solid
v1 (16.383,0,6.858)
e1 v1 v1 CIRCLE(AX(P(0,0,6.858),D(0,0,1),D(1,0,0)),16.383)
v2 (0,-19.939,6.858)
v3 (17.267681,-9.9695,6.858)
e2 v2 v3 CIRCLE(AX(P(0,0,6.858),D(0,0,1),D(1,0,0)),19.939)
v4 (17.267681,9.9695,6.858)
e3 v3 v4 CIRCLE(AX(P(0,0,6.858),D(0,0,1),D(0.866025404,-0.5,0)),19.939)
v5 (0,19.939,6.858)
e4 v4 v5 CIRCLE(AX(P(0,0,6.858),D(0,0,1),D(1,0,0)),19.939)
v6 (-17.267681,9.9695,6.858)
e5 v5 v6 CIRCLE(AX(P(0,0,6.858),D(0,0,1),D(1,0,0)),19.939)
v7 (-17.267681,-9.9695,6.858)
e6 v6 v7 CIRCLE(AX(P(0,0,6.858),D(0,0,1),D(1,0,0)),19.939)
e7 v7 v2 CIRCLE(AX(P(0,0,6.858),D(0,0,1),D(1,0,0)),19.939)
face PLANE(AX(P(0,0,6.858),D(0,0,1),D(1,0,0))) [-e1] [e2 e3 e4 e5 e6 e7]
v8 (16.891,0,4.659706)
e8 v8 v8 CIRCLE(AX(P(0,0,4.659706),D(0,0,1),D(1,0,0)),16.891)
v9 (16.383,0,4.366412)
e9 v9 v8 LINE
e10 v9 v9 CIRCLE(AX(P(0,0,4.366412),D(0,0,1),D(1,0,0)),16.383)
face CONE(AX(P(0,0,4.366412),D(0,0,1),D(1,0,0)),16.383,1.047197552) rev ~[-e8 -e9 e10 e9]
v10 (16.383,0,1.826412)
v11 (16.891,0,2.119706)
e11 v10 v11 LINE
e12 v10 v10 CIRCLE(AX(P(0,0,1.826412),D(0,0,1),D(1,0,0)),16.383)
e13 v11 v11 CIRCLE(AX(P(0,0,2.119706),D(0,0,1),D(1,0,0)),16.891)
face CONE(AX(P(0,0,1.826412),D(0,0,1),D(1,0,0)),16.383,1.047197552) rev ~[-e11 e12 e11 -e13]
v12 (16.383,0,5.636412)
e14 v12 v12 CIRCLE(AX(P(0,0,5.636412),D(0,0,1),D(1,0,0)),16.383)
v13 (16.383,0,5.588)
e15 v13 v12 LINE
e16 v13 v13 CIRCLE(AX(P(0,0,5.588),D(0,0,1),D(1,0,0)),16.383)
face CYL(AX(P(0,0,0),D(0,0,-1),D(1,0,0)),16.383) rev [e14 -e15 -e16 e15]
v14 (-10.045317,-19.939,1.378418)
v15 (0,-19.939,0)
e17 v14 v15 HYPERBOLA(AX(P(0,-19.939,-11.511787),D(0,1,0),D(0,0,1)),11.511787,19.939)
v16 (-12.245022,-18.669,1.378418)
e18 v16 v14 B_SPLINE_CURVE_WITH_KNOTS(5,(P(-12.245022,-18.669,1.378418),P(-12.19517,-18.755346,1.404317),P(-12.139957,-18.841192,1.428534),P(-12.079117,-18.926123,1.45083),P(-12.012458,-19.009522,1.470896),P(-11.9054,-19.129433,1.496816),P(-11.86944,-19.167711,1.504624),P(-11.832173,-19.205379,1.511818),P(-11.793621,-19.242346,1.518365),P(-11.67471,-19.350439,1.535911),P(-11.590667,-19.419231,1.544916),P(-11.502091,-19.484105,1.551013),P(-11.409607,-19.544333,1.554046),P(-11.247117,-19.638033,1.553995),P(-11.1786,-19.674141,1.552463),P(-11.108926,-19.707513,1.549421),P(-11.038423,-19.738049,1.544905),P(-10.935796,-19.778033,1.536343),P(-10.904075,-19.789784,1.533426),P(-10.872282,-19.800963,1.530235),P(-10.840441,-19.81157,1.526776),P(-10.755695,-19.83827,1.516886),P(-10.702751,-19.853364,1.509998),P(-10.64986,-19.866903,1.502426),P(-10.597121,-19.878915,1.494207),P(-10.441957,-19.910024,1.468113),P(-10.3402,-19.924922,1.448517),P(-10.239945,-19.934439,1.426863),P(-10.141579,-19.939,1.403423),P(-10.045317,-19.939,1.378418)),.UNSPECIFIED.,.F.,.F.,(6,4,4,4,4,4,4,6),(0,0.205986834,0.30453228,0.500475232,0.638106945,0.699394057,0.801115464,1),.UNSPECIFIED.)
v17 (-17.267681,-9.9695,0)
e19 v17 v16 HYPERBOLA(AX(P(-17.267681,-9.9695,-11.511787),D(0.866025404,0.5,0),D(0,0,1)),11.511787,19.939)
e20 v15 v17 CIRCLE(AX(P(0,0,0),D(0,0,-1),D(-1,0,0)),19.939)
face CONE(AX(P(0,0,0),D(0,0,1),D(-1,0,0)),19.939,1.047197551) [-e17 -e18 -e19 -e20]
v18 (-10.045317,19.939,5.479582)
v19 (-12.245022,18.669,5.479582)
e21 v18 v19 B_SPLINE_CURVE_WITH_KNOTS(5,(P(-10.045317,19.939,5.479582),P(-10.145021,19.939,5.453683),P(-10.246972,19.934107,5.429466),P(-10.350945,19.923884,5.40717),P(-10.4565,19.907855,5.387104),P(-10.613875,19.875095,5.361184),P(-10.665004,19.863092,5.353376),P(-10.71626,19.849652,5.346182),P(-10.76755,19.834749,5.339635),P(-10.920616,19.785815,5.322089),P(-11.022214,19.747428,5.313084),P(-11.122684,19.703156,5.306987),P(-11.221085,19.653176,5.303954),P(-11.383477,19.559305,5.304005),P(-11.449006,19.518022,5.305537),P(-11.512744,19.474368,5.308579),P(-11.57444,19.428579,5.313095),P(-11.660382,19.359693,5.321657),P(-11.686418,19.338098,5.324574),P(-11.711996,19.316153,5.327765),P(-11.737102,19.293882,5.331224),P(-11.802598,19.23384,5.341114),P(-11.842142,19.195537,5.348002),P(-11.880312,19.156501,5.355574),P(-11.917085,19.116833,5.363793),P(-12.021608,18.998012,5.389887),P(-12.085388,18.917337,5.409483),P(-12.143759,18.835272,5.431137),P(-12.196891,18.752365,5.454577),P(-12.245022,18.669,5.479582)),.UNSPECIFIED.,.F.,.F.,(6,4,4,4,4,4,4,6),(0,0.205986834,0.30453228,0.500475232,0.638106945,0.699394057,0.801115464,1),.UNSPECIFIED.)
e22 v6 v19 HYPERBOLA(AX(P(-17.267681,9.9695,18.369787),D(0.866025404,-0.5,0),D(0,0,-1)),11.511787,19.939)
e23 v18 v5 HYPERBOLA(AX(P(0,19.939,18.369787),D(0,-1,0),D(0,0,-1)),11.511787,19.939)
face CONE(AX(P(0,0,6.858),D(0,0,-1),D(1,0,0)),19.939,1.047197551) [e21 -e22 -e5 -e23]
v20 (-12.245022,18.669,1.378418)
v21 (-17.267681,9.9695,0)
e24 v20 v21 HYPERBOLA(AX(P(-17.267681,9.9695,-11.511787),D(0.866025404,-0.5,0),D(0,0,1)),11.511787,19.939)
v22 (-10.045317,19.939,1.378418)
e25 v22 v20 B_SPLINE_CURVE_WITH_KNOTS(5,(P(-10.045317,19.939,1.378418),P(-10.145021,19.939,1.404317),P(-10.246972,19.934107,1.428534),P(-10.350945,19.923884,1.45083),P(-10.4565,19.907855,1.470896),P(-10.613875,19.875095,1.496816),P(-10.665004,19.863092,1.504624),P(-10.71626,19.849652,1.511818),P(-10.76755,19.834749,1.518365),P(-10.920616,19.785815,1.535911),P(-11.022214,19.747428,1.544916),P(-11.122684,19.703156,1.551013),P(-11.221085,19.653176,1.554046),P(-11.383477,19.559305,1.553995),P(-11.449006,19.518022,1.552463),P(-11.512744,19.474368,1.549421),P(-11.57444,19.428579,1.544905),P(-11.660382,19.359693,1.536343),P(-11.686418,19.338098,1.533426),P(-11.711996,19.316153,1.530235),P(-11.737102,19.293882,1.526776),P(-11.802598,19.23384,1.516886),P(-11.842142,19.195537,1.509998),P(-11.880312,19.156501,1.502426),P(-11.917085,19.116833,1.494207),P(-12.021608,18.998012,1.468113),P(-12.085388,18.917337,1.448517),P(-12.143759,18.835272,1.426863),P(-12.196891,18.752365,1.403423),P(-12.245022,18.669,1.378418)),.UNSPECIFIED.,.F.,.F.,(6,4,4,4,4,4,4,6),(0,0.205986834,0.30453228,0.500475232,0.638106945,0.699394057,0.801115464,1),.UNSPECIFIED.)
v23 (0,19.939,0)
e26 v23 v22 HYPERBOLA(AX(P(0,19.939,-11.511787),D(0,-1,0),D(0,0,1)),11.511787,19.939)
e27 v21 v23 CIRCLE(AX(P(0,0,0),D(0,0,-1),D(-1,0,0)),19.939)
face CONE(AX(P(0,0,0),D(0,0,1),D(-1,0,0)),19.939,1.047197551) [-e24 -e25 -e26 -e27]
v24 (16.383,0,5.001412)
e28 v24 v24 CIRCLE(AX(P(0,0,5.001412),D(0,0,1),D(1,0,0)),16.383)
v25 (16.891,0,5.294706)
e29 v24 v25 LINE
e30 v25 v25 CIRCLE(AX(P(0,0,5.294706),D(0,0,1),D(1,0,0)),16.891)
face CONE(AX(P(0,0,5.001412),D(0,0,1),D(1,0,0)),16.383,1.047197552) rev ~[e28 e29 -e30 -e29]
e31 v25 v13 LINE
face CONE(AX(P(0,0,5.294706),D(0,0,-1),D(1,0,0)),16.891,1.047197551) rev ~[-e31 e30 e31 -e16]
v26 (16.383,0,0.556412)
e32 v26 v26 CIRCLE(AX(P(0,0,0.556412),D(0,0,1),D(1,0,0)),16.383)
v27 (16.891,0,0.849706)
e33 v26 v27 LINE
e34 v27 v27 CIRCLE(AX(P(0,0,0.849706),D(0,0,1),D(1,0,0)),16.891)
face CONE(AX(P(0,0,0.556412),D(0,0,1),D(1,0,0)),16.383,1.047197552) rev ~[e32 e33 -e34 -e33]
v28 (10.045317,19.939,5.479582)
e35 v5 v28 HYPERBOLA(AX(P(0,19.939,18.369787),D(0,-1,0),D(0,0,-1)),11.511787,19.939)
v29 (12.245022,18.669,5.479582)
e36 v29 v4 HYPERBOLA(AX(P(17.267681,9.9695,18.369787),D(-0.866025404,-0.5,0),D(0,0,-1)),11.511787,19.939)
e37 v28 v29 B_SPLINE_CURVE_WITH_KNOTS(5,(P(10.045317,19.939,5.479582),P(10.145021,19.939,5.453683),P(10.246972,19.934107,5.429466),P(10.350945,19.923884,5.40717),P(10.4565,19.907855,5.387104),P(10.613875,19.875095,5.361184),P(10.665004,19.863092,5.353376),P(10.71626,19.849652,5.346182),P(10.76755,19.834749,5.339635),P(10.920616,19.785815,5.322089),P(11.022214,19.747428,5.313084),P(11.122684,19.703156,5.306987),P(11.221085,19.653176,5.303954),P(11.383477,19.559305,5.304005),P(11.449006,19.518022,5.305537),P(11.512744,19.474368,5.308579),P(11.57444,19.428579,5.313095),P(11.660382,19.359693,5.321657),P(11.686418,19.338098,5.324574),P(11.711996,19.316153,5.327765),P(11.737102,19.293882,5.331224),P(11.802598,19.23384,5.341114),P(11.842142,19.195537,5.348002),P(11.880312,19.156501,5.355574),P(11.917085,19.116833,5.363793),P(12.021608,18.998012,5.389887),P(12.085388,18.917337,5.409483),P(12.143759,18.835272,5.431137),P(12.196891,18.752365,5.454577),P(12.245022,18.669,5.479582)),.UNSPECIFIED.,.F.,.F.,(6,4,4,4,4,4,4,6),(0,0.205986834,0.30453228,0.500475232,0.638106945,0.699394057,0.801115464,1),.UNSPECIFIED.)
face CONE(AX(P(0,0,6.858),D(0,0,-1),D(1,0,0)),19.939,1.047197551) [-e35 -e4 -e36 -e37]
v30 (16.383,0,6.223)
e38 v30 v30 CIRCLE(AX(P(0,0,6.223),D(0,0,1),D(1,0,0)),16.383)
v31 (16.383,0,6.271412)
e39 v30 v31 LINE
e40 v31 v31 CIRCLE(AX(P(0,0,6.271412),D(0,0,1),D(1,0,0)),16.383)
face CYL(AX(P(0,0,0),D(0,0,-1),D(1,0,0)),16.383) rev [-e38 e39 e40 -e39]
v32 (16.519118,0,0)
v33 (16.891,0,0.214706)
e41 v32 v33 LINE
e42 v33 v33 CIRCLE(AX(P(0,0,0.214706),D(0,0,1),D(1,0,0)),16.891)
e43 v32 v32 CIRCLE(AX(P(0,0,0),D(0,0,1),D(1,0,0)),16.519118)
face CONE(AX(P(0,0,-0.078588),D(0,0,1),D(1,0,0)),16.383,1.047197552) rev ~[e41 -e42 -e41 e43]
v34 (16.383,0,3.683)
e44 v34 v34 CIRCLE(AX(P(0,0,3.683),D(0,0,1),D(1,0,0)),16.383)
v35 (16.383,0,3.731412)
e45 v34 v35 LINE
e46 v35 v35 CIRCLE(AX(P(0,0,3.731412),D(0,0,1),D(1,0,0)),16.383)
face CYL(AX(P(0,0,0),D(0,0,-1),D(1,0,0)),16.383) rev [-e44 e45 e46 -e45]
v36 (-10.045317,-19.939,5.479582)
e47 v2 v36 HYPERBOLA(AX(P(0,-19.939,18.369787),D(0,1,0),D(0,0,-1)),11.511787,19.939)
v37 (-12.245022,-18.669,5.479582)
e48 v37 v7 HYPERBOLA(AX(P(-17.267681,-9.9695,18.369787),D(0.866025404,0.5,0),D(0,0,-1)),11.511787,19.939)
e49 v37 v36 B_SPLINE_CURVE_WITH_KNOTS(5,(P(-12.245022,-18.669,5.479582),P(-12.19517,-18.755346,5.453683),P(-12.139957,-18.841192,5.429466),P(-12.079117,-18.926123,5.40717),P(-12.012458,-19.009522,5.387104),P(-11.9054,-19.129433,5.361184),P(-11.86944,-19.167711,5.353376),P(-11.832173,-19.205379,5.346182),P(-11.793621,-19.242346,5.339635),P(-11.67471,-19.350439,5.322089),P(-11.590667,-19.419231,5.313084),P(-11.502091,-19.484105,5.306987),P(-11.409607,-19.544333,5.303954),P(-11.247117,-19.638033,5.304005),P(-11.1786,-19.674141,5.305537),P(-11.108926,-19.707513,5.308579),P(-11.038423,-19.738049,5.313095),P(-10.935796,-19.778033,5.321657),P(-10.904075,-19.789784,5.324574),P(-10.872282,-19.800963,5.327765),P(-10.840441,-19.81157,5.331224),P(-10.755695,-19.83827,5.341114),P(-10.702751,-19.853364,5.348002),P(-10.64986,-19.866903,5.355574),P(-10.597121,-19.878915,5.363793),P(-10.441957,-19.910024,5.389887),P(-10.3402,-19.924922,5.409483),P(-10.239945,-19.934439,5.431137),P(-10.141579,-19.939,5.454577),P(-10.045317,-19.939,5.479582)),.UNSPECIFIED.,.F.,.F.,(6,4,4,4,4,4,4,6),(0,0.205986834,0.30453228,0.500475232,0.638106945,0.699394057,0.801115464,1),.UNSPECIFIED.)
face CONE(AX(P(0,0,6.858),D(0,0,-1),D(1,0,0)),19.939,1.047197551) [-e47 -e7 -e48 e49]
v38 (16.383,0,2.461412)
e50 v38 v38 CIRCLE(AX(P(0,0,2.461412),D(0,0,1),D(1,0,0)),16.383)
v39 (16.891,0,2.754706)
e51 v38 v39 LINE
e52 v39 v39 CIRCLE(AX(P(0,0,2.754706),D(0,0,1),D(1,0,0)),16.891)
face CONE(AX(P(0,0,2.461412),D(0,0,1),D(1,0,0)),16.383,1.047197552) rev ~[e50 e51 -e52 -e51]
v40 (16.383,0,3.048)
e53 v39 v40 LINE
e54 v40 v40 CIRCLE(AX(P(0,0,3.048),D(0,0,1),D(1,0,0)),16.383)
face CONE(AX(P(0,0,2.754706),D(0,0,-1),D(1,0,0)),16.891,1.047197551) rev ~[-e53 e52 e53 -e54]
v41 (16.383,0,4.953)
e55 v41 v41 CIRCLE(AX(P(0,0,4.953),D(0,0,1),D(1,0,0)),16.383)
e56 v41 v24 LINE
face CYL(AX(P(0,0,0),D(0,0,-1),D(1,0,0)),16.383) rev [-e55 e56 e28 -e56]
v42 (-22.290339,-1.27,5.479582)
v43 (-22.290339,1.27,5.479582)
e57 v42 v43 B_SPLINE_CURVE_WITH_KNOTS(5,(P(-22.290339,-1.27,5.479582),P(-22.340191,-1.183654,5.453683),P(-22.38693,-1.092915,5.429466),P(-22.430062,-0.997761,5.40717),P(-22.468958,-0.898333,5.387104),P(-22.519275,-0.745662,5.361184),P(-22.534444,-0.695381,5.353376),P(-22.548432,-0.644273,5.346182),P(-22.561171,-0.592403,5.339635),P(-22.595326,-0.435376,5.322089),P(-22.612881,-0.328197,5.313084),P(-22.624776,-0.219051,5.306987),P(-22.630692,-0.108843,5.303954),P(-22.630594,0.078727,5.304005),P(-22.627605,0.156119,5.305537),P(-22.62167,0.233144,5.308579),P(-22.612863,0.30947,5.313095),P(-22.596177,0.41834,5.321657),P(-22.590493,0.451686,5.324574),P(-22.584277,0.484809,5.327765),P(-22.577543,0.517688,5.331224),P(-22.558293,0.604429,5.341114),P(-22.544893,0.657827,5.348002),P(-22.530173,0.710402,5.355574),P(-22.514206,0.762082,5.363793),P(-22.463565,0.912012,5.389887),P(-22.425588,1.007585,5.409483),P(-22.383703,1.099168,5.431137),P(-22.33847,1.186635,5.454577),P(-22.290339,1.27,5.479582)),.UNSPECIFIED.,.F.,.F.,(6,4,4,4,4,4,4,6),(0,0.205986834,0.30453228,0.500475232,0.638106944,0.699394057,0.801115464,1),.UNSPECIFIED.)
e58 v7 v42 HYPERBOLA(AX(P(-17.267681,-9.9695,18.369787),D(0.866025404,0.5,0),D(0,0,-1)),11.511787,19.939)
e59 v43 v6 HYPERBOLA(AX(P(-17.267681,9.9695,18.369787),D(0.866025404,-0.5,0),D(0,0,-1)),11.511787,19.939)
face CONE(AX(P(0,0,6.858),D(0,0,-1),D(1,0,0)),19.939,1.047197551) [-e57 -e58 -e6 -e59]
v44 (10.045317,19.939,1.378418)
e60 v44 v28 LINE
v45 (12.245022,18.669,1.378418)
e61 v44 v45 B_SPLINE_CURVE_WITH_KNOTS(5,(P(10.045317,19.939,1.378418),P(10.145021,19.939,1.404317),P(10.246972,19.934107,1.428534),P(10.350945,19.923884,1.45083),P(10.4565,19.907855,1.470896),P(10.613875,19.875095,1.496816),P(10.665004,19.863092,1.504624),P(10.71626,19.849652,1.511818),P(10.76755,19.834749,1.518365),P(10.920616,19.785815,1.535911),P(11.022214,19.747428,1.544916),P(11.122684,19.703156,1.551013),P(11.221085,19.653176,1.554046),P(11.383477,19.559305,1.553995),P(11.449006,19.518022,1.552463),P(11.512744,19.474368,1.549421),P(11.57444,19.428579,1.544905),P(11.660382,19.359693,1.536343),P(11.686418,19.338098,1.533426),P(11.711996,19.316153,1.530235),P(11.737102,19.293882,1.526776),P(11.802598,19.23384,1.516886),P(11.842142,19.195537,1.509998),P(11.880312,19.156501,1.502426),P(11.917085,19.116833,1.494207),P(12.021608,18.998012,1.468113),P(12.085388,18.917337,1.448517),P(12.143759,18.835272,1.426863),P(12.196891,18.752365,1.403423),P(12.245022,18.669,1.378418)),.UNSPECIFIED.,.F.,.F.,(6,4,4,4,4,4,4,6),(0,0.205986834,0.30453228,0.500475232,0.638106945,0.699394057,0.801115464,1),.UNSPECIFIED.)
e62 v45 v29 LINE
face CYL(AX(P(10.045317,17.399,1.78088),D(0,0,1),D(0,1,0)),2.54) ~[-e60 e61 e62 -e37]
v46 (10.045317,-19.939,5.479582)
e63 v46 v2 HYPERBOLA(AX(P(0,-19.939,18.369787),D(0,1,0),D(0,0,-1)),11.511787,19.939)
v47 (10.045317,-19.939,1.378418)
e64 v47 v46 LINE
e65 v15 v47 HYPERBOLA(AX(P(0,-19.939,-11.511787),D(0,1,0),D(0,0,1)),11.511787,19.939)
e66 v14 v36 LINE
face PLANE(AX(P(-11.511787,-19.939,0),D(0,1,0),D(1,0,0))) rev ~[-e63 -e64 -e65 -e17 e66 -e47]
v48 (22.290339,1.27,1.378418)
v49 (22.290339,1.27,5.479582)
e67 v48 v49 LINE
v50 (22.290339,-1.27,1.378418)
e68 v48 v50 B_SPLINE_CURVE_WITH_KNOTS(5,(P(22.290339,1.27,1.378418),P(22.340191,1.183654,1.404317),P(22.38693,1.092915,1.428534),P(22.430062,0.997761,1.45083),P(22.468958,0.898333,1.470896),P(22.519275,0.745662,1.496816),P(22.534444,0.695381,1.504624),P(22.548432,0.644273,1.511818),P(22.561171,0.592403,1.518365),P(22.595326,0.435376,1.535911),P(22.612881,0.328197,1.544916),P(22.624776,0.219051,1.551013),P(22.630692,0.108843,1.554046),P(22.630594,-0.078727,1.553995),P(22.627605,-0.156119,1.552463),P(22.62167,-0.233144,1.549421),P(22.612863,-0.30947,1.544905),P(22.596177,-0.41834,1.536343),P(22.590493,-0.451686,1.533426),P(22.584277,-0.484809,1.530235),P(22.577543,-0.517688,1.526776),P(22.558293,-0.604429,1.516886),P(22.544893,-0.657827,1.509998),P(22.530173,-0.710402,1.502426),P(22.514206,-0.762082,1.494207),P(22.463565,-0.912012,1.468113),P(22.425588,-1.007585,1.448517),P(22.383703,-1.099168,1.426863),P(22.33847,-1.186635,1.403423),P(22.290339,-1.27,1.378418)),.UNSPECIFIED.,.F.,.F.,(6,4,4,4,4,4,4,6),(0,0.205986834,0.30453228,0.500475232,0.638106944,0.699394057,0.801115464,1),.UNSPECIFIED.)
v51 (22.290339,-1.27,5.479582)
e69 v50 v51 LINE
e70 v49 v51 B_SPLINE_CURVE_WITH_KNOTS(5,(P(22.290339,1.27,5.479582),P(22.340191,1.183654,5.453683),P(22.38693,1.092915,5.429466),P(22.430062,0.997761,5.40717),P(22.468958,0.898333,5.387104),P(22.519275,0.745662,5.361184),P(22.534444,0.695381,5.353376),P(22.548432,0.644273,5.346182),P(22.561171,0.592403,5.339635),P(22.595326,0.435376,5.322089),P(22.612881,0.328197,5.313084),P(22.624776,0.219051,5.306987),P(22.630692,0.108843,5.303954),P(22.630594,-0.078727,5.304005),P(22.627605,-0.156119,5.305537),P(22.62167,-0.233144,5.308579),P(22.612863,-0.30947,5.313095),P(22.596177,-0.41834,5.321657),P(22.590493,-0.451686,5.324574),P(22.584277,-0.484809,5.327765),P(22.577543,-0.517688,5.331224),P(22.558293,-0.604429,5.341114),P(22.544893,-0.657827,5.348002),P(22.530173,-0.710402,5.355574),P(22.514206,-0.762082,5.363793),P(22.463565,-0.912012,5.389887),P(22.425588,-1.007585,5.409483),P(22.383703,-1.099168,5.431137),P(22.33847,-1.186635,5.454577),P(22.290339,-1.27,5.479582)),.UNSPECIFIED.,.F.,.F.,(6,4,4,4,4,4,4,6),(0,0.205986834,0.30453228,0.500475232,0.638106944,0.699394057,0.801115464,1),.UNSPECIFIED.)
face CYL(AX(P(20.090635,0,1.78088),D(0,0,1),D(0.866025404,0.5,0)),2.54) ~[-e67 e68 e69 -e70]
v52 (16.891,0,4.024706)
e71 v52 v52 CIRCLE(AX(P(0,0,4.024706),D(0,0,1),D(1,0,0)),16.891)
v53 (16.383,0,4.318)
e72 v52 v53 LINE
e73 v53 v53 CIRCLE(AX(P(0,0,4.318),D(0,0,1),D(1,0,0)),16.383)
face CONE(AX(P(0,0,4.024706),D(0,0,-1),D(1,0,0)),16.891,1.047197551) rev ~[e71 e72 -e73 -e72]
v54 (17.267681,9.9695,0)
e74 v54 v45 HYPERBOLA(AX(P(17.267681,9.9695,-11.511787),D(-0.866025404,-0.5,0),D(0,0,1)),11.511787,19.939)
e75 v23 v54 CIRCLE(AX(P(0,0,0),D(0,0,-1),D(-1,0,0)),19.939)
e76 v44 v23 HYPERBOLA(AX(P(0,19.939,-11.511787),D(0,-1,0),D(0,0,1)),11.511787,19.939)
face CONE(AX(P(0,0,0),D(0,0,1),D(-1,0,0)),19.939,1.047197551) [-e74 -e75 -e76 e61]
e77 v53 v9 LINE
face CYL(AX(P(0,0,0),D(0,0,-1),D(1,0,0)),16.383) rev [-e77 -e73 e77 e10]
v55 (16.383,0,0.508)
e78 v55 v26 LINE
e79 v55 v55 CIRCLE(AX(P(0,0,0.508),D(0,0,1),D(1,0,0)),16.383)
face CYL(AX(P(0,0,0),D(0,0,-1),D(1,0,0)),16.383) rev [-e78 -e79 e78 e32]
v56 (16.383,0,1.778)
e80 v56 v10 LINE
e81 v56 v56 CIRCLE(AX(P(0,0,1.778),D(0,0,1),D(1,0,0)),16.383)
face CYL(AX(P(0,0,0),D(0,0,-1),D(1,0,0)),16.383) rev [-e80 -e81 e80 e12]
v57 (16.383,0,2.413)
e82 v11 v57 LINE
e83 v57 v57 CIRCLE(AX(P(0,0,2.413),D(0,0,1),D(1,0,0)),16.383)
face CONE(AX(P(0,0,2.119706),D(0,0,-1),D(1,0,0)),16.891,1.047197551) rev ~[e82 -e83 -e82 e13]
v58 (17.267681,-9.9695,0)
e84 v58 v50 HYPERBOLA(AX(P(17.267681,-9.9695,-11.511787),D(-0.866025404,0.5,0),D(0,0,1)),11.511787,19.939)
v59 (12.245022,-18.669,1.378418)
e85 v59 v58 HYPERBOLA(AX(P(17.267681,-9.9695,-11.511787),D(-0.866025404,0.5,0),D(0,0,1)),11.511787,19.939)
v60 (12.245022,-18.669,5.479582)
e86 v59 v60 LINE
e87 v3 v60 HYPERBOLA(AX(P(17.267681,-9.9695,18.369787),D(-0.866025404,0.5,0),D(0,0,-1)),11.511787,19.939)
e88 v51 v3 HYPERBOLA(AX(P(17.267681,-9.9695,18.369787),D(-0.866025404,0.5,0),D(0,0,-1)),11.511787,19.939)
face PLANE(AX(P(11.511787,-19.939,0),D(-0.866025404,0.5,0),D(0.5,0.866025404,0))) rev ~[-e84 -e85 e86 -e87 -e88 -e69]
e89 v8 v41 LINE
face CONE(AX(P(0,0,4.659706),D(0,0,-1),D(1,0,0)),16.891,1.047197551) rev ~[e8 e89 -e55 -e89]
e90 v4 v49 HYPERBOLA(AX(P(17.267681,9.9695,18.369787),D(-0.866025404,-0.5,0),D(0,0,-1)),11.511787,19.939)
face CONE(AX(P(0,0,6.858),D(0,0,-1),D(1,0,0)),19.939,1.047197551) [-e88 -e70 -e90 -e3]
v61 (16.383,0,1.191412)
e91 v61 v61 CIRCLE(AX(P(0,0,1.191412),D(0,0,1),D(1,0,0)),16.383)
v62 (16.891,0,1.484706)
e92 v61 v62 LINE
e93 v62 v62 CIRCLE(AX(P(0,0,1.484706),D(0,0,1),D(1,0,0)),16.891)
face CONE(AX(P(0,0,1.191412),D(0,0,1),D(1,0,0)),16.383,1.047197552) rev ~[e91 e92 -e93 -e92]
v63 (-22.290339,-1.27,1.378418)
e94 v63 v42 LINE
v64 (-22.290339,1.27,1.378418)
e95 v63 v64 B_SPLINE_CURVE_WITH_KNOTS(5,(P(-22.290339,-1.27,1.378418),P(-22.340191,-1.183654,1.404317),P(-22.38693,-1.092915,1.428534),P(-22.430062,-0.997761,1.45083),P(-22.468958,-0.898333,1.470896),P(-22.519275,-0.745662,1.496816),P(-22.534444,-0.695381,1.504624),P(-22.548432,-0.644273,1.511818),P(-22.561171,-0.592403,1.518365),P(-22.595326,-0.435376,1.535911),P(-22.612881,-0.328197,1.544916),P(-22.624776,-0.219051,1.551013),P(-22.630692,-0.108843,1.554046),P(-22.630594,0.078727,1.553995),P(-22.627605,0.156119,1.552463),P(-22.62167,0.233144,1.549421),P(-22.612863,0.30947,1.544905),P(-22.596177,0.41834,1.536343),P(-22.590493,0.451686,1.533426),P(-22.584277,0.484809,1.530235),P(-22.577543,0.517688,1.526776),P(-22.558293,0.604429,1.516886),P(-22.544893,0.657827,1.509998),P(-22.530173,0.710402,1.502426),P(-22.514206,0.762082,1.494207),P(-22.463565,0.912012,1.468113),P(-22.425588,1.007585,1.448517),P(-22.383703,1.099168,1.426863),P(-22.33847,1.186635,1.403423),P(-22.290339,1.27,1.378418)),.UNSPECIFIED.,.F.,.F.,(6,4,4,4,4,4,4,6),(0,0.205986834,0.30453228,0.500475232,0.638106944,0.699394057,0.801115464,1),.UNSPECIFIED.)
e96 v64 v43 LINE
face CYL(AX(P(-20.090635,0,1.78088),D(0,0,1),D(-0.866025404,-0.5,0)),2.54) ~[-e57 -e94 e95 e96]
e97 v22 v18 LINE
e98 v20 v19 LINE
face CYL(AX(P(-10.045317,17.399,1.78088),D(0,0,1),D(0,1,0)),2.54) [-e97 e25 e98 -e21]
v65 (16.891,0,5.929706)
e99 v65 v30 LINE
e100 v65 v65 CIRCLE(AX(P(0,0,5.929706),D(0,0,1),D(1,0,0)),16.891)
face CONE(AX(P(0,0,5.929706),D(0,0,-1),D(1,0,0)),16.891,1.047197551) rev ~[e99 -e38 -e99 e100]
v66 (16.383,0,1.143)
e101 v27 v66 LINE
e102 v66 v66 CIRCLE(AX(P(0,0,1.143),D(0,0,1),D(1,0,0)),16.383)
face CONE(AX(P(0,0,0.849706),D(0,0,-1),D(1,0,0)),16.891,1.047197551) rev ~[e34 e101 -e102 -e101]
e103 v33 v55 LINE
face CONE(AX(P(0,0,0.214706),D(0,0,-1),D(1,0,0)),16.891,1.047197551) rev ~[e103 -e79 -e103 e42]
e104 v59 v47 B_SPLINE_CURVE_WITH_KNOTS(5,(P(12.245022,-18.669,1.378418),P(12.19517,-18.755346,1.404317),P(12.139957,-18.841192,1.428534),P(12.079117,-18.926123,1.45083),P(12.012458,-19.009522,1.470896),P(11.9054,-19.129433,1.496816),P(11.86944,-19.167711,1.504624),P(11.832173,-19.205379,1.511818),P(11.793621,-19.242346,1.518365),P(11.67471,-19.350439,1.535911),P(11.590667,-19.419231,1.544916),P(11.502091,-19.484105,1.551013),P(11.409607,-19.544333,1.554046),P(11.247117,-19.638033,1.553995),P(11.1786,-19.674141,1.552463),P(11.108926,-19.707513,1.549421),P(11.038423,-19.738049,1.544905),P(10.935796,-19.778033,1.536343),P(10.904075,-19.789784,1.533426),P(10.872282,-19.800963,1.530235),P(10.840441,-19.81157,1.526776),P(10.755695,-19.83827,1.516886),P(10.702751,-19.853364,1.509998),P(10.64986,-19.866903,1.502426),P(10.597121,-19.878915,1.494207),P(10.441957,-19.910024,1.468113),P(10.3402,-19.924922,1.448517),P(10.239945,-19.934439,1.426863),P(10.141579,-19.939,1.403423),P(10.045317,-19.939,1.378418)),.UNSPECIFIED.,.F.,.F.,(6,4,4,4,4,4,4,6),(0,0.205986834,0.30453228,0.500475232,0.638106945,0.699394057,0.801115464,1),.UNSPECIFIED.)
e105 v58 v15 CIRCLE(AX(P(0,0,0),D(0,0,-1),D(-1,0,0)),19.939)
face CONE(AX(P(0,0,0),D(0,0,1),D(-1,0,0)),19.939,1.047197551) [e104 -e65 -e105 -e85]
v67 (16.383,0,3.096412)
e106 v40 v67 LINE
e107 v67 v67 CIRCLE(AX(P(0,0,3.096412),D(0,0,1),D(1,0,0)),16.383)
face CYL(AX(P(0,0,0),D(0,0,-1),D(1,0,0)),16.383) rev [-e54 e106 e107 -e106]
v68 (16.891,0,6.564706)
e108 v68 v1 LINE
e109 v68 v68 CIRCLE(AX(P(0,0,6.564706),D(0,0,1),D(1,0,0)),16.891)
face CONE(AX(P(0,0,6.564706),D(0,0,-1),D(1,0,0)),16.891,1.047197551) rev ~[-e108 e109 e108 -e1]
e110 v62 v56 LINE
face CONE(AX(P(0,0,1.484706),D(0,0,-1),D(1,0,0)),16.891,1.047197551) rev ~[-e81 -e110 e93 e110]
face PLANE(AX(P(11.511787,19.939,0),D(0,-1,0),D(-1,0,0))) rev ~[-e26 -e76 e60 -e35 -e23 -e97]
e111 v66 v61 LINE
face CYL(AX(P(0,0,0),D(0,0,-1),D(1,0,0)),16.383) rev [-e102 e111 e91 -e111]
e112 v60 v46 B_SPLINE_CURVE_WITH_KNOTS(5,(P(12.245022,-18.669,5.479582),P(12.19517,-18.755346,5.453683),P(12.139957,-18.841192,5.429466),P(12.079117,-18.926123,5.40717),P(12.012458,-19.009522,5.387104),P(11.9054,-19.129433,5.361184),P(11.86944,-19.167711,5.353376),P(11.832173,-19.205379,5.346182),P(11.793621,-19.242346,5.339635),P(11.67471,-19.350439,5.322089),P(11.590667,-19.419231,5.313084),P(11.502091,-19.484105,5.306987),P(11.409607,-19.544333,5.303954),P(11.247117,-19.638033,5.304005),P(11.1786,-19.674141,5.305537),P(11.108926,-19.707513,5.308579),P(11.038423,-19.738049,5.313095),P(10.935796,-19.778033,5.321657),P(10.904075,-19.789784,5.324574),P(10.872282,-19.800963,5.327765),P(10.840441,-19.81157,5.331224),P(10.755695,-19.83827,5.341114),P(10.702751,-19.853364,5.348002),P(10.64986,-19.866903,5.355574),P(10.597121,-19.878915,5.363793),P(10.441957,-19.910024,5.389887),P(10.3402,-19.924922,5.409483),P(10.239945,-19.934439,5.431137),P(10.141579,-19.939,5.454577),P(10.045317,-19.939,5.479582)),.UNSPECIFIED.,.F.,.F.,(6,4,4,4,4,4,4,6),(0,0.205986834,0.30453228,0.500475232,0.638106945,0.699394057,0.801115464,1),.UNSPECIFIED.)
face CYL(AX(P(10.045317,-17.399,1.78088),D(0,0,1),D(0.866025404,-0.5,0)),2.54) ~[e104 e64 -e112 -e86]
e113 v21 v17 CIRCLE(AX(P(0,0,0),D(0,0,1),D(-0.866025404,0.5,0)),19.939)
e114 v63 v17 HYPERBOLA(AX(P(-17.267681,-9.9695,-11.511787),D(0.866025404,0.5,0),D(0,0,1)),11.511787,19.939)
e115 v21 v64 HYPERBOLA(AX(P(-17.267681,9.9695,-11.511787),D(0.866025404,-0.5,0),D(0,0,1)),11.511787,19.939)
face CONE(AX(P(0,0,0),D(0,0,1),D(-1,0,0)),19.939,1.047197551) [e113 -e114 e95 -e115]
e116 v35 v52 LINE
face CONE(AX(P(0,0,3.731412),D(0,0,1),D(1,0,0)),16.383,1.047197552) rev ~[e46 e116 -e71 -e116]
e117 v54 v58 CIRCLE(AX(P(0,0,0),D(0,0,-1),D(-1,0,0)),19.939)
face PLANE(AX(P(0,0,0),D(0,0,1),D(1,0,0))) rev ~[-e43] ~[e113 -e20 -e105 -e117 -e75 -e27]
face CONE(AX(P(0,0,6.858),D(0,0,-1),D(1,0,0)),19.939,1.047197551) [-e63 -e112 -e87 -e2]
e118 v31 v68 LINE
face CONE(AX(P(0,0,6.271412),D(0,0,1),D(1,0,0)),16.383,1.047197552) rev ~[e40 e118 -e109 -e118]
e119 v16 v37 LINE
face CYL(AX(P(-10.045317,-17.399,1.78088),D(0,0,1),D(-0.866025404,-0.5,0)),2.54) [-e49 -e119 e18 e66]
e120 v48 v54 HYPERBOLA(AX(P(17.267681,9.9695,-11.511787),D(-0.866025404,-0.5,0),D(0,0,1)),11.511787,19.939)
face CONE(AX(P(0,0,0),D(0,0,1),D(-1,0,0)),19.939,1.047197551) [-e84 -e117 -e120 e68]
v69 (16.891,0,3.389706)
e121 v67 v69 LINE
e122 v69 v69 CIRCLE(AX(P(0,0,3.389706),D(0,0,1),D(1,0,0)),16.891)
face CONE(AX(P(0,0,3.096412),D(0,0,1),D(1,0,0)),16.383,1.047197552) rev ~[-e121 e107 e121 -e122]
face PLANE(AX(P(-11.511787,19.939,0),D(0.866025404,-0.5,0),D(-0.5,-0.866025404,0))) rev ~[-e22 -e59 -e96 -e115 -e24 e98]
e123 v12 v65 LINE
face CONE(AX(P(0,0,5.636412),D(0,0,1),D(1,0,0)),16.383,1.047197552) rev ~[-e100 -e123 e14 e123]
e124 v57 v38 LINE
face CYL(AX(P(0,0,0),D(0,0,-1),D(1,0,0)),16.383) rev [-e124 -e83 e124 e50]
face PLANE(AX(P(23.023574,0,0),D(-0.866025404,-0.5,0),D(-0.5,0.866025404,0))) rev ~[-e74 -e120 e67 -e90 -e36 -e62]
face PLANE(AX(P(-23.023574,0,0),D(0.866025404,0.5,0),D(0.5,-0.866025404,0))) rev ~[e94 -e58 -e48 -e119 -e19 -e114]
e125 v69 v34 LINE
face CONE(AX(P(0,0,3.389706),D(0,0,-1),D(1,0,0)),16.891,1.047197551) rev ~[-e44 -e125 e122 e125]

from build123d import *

# Parameters (mm, degrees)
SKETCH1_R          = 16.383
EXTRUDE1_DEPTH     = 6.858
SKETCH2_OUTSIDE_W  = 87.528
SKETCH2_OUTSIDE_H  = 81.358
SKETCH2_OUTSIDE_R  = 19.939
CUT_EXTRUDE1_DEPTH = 7.858
CUT_EXTRUDE1_DRAFT = -60
SKETCH3_OUTSIDE_W  = 87.528
SKETCH3_OUTSIDE_H  = 81.358
SKETCH3_OUTSIDE_R  = 19.939
CUT_EXTRUDE2_DEPTH = 7.858
CUT_EXTRUDE2_DRAFT = -60
FILLET1_R          = 2.54
LPATTERN1_COUNT    = 11
LPATTERN1_PITCH    = 0.635


with BuildPart() as part:
    # Sketch1 → Extrude1 (new body)
    with BuildSketch(Plane.XY):
        Polygon((-23.023574035, 0), (-11.511787017, -19.939), (11.511787017, -19.939), (23.023574035, 0), (11.511787017, 19.939), (-11.511787017, 19.939), align=None)
        Circle(SKETCH1_R, mode=Mode.SUBTRACT)
    extrude(amount=EXTRUDE1_DEPTH)


with BuildPart() as cut_extrude1_tool:
    # Sketch2 outside → Cut-Extrude1 (with draft: the straight prism first)
    with BuildSketch(Plane.XY.offset(6.858)):
        Rectangle(SKETCH2_OUTSIDE_W, SKETCH2_OUTSIDE_H)
        Circle(SKETCH2_OUTSIDE_R, mode=Mode.SUBTRACT)
    extrude(amount=-CUT_EXTRUDE1_DEPTH)
    # Cut-Extrude1: the draft: its side faces are tilted about the plane it starts from
    cut_extrude1_sides = [cut_extrude1_tool.faces().sort_by_distance(p)[0] for p in [
        (0, -40.679, 2.929),
        (43.764, 0, 2.929),
        (0, 40.679, 2.929),
        (-43.764, 0, 2.929),
        (-19.939, 0, 2.929),
    ]]
    draft(cut_extrude1_sides, Plane.XY.offset(6.858), CUT_EXTRUDE1_DRAFT)


with BuildPart() as part_1:
    add(part.part)

    # Cut-Extrude1: cut by cut_extrude1_tool
    add(cut_extrude1_tool.part, mode=Mode.SUBTRACT)


with BuildPart() as cut_extrude2_tool:
    # Sketch3 outside → Cut-Extrude2 (with draft: the straight prism first)
    with BuildSketch(Plane(origin=(0, 0, 0), x_dir=(-1, 0, 0), z_dir=(0, 0, -1))):
        Rectangle(SKETCH3_OUTSIDE_W, SKETCH3_OUTSIDE_H)
        Circle(SKETCH3_OUTSIDE_R, mode=Mode.SUBTRACT)
    extrude(amount=-CUT_EXTRUDE2_DEPTH)
    # Cut-Extrude2: the draft: its side faces are tilted about the plane it starts from
    cut_extrude2_sides = [cut_extrude2_tool.faces().sort_by_distance(p)[0] for p in [
        (0, -40.679, 3.929),
        (-43.764, 0, 3.929),
        (0, 40.679, 3.929),
        (43.764, 0, 3.929),
        (19.939, 0, 3.929),
    ]]
    draft(cut_extrude2_sides, Plane(origin=(0, 0, 0), x_dir=(-1, 0, 0), z_dir=(0, 0, -1)), CUT_EXTRUDE2_DRAFT)


with BuildPart() as part_2:
    add(part_1.part)

    # Cut-Extrude2: cut by cut_extrude2_tool
    add(cut_extrude2_tool.part, mode=Mode.SUBTRACT)

    # Fillet1
    fillet1_edges = [part_2.edges().sort_by_distance(p)[0] for p in [
        (23.023574035, 0, 3.429),
        (11.511787017, -19.939, 3.429),
        (-11.511787017, -19.939, 3.429),
        (-23.023574035, 0, 3.429),
        (-11.511787017, 19.939, 3.429),
        (11.511787017, 19.939, 3.429),
    ]]
    fillet(fillet1_edges, radius=FILLET1_R)

    # Sketch4 → Cut-Revolve1 (revolve, cut)
    with BuildSketch(Plane(origin=(0, 0, 0), x_dir=(1, 0, 0), z_dir=(0, 1, 0)), mode=Mode.PRIVATE) as cut_revolve1_sk:
        Polygon((-16.383, -6.858), (-16.383, -6.271412127), (-16.891, -6.564706063), align=None)
    cut_revolve1 = revolve(cut_revolve1_sk.sketch.rotate(Axis((0, 0, 0), (0, 0, 1)), 180), axis=Axis((0, 0, 0), (0, 0, 1)), mode=Mode.SUBTRACT)  # turned: the seam where the file's is

    # LPattern1: Cut-Revolve1 ×11
    with Locations(*[(0, 0, -i * LPATTERN1_PITCH) for i in range(1, LPATTERN1_COUNT)]):
        add(cut_revolve1, mode=Mode.SUBTRACT)


solid = part_2.part
